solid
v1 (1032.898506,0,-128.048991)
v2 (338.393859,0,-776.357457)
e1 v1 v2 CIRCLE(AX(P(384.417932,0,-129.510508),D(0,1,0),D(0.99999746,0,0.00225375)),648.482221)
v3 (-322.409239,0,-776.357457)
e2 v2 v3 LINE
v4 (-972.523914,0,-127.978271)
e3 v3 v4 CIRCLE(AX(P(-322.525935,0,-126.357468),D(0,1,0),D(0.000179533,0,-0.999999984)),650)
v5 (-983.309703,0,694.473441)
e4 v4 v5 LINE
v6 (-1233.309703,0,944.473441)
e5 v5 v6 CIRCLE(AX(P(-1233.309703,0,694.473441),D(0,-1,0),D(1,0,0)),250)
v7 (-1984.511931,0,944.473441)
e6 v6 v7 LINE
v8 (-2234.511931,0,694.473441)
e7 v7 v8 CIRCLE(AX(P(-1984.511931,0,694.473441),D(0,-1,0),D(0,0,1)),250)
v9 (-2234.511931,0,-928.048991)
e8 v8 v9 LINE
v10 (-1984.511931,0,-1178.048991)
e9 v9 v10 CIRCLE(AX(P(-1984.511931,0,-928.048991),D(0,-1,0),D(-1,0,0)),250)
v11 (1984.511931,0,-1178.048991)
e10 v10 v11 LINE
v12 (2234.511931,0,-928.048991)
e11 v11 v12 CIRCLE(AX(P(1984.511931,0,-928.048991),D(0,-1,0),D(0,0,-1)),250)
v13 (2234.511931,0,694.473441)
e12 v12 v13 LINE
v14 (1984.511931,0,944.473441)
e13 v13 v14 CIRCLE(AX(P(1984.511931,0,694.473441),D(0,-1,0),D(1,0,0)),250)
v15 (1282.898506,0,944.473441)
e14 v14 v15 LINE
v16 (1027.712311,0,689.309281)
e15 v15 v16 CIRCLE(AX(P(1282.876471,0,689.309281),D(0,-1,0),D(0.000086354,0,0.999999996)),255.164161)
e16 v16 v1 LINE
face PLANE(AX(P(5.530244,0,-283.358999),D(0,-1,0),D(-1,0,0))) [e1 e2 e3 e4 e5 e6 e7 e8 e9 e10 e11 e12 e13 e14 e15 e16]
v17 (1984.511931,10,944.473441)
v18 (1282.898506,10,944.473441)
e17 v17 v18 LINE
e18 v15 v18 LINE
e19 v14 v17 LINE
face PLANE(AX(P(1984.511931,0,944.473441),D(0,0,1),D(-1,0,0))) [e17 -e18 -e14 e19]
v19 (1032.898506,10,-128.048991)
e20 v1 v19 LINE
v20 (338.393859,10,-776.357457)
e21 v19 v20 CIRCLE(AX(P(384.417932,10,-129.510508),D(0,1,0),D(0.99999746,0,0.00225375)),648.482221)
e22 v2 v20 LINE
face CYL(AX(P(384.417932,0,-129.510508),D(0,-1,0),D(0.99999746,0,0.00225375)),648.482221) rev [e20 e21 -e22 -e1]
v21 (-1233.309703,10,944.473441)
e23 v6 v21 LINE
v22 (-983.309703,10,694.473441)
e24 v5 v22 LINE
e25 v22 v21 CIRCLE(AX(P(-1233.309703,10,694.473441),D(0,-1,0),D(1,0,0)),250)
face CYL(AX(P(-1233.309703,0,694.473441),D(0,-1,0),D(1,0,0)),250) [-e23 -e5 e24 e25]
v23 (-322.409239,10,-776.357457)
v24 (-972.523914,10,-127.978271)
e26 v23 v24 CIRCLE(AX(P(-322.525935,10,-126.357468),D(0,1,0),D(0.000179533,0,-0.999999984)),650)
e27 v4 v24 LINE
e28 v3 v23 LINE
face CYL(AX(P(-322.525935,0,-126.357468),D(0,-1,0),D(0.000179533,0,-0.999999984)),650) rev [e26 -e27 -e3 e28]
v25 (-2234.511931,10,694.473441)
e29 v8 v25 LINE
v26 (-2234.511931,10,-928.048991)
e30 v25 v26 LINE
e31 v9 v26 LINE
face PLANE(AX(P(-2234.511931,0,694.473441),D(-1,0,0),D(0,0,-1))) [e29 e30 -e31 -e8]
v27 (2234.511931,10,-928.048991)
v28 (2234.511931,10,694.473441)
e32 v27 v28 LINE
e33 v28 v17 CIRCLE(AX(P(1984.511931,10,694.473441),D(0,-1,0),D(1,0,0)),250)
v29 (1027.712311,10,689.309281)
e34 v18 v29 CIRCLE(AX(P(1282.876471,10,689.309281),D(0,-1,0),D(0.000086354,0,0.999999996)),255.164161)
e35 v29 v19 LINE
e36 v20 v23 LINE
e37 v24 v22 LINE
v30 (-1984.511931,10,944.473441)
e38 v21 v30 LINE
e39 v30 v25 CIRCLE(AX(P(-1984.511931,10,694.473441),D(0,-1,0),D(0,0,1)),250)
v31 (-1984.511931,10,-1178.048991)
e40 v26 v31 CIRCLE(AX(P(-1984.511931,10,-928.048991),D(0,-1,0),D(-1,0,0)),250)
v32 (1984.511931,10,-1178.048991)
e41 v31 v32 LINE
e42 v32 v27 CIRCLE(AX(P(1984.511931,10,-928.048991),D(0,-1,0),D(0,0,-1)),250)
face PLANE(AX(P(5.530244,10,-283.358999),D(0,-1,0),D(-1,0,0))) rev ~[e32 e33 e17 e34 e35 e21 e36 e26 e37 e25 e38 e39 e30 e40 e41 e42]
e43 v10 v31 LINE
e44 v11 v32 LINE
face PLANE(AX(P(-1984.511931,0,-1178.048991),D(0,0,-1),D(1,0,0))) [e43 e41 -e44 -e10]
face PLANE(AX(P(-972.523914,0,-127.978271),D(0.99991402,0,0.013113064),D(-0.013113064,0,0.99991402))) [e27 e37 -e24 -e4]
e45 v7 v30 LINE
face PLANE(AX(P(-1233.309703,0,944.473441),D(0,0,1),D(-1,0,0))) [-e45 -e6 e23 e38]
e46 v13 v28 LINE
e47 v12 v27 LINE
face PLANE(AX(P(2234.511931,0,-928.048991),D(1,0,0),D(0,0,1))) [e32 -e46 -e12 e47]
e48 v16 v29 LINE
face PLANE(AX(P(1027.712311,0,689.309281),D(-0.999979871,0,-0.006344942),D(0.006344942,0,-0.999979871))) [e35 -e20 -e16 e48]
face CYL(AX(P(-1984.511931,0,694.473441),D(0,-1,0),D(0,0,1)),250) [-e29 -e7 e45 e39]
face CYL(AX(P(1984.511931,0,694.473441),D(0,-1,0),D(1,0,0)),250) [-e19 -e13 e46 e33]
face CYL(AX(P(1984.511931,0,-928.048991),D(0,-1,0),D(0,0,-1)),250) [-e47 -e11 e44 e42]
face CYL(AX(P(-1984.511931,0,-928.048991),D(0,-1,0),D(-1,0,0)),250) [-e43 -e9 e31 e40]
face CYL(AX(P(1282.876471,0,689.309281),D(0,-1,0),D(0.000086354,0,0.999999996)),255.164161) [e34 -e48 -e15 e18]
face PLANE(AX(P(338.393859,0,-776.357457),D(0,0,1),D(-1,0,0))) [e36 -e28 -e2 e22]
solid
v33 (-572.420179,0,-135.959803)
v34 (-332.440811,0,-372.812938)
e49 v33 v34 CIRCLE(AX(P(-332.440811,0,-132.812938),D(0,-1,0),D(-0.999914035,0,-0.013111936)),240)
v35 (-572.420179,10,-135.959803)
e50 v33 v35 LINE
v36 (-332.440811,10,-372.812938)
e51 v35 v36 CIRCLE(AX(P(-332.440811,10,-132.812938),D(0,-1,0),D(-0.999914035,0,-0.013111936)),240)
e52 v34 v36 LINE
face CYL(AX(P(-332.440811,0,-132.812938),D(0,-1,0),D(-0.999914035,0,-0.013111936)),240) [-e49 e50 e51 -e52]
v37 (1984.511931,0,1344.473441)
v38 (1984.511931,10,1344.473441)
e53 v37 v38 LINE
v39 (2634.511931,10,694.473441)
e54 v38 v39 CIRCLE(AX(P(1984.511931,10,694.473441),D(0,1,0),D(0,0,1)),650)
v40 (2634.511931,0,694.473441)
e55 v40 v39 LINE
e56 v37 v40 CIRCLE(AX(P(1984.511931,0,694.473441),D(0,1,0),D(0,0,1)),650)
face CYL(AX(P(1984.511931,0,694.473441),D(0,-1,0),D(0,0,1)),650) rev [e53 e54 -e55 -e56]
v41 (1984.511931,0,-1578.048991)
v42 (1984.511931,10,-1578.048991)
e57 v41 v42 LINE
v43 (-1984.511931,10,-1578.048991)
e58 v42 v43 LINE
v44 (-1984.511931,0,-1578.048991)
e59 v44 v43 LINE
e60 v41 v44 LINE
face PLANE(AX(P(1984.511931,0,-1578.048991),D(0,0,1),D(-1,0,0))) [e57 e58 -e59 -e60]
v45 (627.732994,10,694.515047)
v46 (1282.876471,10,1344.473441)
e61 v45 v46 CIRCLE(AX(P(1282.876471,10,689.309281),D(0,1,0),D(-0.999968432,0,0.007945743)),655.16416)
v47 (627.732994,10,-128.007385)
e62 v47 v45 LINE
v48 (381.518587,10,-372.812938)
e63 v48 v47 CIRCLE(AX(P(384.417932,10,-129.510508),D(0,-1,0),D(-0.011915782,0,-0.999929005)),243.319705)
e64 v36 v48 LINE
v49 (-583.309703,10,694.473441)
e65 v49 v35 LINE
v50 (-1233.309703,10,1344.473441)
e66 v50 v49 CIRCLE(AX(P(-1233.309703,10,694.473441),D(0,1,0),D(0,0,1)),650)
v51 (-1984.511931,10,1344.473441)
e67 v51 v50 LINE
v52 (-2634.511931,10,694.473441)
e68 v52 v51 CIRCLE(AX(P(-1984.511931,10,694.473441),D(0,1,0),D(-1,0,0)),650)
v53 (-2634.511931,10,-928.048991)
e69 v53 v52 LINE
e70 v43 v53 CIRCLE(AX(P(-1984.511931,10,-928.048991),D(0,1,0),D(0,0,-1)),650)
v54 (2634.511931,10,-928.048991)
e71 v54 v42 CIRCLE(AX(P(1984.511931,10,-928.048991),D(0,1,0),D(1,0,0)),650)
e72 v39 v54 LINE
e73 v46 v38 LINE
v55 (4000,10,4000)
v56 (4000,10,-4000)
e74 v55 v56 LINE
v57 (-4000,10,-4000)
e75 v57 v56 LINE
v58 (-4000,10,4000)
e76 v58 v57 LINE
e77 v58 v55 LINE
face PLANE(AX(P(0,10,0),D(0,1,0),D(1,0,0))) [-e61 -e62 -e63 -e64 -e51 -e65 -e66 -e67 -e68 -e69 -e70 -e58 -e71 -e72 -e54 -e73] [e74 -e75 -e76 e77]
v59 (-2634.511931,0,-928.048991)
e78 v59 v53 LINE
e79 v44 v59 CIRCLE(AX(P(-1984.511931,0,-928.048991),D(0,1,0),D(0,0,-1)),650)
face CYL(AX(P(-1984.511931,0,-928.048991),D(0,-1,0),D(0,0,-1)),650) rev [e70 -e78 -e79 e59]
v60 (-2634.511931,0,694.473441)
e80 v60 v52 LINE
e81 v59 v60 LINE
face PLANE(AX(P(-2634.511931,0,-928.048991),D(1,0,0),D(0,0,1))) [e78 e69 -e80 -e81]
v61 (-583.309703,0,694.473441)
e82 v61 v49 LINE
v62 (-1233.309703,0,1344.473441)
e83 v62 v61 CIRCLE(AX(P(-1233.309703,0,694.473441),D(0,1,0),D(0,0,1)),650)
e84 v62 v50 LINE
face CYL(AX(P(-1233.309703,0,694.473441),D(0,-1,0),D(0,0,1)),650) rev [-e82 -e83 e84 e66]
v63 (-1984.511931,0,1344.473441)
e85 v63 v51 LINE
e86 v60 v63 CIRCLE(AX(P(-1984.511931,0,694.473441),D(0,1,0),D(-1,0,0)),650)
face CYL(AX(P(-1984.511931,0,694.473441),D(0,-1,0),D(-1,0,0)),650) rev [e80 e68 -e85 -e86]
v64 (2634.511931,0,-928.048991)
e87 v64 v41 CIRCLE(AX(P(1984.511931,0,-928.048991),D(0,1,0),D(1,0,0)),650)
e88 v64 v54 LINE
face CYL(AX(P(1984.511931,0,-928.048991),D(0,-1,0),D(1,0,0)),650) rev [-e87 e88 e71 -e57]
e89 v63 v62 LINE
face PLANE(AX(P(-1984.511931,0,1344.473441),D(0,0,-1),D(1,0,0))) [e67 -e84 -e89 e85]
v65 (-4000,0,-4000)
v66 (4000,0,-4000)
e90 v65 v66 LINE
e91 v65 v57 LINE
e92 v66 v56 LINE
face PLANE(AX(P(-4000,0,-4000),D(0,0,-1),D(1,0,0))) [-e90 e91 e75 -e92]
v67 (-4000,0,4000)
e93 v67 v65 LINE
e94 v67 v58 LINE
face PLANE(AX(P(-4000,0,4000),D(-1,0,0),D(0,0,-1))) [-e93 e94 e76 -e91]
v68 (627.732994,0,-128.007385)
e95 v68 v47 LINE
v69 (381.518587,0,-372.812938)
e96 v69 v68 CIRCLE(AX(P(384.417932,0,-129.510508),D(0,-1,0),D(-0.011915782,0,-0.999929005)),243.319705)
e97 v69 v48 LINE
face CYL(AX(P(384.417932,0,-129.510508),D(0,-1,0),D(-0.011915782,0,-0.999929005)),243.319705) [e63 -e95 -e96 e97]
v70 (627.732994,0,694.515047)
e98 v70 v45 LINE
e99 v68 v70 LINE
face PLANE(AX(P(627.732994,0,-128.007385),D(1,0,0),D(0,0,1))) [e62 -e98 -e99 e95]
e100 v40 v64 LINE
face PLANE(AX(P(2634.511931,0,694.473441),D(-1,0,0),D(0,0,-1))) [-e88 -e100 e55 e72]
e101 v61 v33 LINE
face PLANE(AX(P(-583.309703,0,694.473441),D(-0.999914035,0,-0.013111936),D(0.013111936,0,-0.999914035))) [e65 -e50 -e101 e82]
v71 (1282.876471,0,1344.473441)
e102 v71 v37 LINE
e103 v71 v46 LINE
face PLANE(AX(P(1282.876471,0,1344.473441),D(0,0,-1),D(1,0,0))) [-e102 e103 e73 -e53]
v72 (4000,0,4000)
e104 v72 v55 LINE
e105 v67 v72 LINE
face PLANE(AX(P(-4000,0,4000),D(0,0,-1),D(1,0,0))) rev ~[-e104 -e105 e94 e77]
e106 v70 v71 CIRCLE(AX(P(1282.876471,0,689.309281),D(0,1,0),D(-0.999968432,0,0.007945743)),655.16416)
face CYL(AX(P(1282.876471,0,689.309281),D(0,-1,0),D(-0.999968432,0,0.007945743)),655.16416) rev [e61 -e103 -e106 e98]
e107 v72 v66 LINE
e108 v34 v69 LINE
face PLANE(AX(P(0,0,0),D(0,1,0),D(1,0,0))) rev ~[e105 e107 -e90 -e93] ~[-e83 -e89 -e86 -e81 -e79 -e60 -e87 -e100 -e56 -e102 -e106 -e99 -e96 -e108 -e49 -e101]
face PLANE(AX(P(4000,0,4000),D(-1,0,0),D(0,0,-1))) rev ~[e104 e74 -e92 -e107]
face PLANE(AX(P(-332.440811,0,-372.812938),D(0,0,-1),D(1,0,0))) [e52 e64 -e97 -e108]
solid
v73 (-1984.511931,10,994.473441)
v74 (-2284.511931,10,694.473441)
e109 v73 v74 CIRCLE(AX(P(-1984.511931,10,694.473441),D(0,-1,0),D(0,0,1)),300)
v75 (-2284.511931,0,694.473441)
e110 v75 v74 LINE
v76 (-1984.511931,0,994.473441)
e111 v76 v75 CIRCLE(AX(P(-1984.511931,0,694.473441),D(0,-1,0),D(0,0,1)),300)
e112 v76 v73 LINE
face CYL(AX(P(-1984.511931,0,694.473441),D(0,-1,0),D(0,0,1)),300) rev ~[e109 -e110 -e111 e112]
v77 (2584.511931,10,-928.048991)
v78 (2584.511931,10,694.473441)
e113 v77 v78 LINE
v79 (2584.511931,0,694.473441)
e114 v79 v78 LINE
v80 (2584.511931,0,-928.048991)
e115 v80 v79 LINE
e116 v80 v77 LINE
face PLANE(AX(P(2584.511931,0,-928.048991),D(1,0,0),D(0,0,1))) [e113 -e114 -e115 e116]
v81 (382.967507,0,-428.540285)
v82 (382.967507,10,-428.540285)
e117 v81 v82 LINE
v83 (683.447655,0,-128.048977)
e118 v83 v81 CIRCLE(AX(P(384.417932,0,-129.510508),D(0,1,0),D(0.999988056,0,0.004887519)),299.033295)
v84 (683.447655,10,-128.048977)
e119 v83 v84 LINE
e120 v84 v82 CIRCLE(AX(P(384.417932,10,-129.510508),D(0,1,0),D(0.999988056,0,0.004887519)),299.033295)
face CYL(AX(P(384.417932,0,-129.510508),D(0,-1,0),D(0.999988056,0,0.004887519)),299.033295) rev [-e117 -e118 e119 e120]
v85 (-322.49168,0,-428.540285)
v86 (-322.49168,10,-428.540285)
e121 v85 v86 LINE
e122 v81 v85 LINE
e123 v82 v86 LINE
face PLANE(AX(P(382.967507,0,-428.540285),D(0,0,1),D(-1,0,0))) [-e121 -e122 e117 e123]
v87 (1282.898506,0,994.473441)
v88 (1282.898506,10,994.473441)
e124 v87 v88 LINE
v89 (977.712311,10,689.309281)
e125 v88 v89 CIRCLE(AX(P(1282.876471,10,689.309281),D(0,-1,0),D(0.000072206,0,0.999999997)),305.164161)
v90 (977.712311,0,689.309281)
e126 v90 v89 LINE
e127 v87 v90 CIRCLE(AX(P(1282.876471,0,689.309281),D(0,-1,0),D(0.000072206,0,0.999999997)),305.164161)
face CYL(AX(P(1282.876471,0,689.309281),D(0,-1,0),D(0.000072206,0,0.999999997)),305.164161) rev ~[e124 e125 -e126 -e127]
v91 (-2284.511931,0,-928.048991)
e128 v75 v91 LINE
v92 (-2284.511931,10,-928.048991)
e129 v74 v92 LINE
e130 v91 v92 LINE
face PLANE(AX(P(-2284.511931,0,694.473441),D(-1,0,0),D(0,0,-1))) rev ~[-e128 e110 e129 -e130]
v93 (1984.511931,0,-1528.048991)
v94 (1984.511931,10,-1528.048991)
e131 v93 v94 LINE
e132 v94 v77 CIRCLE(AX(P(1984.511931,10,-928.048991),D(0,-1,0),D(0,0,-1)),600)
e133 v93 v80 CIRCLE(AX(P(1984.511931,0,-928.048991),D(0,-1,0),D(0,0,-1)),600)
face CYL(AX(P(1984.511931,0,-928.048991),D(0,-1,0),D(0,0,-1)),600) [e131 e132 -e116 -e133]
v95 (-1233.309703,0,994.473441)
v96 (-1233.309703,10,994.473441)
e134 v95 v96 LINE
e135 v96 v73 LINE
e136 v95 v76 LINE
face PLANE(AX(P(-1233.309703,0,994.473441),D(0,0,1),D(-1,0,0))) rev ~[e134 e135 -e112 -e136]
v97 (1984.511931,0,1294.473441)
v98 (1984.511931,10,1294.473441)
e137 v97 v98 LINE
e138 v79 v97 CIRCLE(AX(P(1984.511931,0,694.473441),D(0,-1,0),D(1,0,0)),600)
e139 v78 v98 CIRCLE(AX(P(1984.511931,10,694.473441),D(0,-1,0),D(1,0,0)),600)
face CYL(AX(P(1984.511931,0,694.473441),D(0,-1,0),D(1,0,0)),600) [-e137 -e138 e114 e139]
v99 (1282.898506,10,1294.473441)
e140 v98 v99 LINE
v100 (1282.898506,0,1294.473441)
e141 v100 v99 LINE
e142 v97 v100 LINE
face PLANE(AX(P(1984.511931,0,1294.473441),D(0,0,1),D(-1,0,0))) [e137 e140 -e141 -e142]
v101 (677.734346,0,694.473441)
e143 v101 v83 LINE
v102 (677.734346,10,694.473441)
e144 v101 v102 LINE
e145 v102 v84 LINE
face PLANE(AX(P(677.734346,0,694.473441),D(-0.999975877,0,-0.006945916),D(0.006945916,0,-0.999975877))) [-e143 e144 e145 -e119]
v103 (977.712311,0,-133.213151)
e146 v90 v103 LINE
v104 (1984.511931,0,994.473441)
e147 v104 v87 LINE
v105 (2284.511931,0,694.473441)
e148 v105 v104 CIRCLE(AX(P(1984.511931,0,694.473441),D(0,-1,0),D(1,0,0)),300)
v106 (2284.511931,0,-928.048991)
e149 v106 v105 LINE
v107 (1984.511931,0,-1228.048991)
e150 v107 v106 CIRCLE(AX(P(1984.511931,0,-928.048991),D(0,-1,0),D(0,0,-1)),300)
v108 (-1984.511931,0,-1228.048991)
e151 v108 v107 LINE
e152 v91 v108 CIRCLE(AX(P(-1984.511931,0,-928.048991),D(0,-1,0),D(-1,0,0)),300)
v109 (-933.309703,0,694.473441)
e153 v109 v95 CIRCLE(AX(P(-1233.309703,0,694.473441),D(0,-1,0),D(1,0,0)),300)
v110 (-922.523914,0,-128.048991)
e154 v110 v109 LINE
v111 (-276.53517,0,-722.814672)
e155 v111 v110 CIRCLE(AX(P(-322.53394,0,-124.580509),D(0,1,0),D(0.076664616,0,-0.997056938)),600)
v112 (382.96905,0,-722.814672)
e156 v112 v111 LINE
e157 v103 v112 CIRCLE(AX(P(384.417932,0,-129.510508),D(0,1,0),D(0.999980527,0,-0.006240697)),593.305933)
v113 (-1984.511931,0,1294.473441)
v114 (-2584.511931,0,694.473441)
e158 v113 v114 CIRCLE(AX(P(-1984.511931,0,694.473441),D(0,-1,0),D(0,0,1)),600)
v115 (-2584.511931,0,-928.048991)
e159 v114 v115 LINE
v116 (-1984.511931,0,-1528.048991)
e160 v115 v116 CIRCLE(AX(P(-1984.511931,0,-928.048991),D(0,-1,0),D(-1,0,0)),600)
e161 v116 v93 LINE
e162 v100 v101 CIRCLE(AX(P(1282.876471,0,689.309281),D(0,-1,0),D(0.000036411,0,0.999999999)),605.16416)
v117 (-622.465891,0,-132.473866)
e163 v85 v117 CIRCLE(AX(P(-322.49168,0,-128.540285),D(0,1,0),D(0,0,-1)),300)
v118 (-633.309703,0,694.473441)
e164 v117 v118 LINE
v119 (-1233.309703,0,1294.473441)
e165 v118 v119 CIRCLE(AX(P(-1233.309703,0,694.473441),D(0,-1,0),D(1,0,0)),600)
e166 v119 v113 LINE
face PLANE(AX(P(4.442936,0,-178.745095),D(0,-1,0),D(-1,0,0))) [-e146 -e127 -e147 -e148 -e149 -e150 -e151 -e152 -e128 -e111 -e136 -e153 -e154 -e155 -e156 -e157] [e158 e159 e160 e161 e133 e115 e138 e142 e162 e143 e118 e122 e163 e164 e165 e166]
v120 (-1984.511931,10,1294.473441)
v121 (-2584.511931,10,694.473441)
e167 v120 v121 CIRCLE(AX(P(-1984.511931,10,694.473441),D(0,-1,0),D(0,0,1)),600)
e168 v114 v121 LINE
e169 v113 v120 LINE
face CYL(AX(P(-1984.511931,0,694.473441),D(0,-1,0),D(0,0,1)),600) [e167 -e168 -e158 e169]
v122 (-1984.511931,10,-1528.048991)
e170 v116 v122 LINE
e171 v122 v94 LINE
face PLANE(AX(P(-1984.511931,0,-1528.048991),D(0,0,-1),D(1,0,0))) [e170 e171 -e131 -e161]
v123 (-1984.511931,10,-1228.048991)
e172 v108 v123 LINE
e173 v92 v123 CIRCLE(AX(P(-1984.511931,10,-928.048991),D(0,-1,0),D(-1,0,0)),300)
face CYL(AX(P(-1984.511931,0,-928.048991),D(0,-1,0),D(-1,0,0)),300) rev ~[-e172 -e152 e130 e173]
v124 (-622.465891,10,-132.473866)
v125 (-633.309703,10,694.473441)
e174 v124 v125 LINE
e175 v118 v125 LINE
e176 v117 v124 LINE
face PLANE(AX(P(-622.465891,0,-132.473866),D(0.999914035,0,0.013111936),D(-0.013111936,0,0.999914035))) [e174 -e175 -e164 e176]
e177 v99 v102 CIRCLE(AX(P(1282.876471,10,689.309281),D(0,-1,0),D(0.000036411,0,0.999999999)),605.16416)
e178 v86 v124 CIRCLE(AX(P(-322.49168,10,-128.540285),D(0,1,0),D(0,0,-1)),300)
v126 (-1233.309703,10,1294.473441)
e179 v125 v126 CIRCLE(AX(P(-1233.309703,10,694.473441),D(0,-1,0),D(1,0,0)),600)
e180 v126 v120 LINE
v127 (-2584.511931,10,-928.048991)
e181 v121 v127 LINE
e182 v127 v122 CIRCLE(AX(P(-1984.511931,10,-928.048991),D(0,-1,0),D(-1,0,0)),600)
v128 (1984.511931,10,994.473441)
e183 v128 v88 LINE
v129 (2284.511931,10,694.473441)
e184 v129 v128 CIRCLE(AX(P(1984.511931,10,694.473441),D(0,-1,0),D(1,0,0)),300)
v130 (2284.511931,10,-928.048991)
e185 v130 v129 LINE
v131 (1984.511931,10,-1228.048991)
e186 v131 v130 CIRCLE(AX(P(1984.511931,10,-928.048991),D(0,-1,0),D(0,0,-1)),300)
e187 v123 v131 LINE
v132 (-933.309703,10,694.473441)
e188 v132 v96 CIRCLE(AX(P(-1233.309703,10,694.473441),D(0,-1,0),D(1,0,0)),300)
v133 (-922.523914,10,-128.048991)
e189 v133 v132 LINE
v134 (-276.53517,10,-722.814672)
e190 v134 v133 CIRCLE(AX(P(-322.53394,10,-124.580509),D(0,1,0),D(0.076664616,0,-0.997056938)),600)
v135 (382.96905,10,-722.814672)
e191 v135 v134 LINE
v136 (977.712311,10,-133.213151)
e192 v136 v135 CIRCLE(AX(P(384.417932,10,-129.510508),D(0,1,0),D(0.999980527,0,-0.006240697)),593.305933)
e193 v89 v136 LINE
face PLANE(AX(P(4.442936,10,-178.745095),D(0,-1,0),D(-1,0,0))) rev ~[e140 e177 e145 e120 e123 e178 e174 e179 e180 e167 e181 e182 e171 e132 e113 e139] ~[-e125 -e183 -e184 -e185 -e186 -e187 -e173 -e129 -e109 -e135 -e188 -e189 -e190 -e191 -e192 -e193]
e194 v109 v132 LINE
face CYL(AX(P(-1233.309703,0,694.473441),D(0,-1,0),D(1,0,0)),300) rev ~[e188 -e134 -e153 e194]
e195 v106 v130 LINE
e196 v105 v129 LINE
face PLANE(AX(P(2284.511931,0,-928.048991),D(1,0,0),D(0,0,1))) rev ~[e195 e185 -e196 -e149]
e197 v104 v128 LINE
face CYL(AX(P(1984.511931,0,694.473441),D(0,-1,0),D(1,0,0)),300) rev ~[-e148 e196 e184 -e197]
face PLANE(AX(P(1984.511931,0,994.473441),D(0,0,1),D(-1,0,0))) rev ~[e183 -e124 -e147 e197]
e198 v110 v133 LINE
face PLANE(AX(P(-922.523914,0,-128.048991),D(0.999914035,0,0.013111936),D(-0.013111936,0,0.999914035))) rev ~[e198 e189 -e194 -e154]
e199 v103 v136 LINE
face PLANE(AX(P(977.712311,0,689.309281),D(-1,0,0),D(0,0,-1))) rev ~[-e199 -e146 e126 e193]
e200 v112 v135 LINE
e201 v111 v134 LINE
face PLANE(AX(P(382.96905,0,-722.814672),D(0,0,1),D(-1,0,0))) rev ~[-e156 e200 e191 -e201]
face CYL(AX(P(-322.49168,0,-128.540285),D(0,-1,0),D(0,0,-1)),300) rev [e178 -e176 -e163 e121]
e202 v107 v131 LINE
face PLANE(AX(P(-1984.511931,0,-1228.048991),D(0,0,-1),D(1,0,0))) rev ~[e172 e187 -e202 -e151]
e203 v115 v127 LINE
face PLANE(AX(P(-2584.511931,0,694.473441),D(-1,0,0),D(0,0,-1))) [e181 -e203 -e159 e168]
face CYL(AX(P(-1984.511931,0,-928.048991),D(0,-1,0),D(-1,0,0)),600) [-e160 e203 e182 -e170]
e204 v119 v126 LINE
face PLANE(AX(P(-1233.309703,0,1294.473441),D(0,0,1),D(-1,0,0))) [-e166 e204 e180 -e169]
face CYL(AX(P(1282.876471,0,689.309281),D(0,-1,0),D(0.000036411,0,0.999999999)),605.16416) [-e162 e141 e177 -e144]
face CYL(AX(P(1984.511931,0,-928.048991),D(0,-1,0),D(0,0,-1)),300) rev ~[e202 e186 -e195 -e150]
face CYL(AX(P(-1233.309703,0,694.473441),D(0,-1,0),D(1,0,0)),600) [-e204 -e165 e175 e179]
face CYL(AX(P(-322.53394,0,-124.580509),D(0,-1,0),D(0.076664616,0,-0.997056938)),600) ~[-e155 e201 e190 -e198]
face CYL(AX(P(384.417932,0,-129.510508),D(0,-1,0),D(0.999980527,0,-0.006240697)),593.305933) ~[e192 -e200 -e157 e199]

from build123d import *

# Parameters (mm, degrees)
SKETCH1_W             = 8000
SKETCH1_H             = 8000
BOSS_EXTRUDE1_DEPTH   = 10
BOSS_EXTRUDE1_2_DEPTH = 10
BOSS_EXTRUDE1_3_DEPTH = 10


with BuildPart() as part:
    # Sketch1 → Boss-Extrude1 (new body)
    with BuildSketch(Plane(origin=(0, 0, 0), x_dir=(1, 0, 0), z_dir=(0, 1, 0))):
        Rectangle(SKETCH1_W, SKETCH1_H)
        with BuildLine():
            Line((-332.440811098, 372.812938413), (381.518586898, 372.812938413))
            ThreePointArc((381.518586898, 372.812938413), (555.976577605, 302.056472372), (627.732993812, 128.007385212))
            Line((627.732993812, 128.007385212), (627.732993812, -694.515046657))
            ThreePointArc((627.732993812, -694.515046657), (821.44963805, -1154.417175641), (1282.87647146, -1344.473440754))
            Line((1282.87647146, -1344.473440754), (1984.511930504, -1344.473440754))
            ThreePointArc((1984.511930504, -1344.473440754), (2444.131338275, -1154.092848525), (2634.511930504, -694.473440754))
            Line((2634.511930504, -694.473440754), (2634.511930504, 128.048991114))
            Line((2634.511930504, 128.048991114), (2634.511930504, 928.048991114))
            ThreePointArc((2634.511930504, 928.048991114), (2444.131338275, 1387.668398886), (1984.511930504, 1578.048991114))
            Line((1984.511930504, 1578.048991114), (-1984.511930504, 1578.048991114))
            ThreePointArc((-1984.511930504, 1578.048991114), (-2444.131338275, 1387.668398886), (-2634.511930504, 928.048991114))
            Line((-2634.511930504, 928.048991114), (-2634.511930504, 128.048991114))
            Line((-2634.511930504, 128.048991114), (-2634.511930504, -694.473440754))
            ThreePointArc((-2634.511930504, -694.473440754), (-2444.131338275, -1154.092848525), (-1984.511930504, -1344.473440754))
            Line((-1984.511930504, -1344.473440754), (-1233.309703409, -1344.473440754))
            ThreePointArc((-1233.309703409, -1344.473440754), (-773.690295638, -1154.092848525), (-583.309703409, -694.473440754))
            Line((-583.309703409, -694.473440754), (-572.420179467, 135.959803133))
            ThreePointArc((-572.420179467, 135.959803133), (-501.030182749, 303.62752727), (-332.440811098, 372.812938413))
        make_face(mode=Mode.SUBTRACT)
    extrude(amount=BOSS_EXTRUDE1_DEPTH)


with BuildPart() as body_2:
    # Sketch1 → Boss-Extrude1 2 (new body)
    with BuildSketch(Plane(origin=(0, 0, 0), x_dir=(1, 0, 0), z_dir=(0, 1, 0))):
        with BuildLine():
            ThreePointArc((-322.491680317, 428.540285438), (-533.22839488, 342.058521509), (-622.465890777, 132.473866338))
            Line((-622.465890777, 132.473866338), (-633.309703409, -694.473440754))
            ThreePointArc((-633.309703409, -694.473440754), (-809.045634697, -1118.737509466), (-1233.309703409, -1294.473440754))
            Line((-1233.309703409, -1294.473440754), (-1984.511930504, -1294.473440754))
            ThreePointArc((-1984.511930504, -1294.473440754), (-2408.775999216, -1118.737509466), (-2584.511930504, -694.473440754))
            Line((-2584.511930504, -694.473440754), (-2584.511930504, 128.048991114))
            Line((-2584.511930504, 128.048991114), (-2584.511930504, 928.048991114))
            ThreePointArc((-2584.511930504, 928.048991114), (-2408.775999216, 1352.313059826), (-1984.511930504, 1528.048991114))
            Line((-1984.511930504, 1528.048991114), (1984.511930504, 1528.048991114))
            ThreePointArc((1984.511930504, 1528.048991114), (2408.775999216, 1352.313059826), (2584.511930504, 928.048991114))
            Line((2584.511930504, 928.048991114), (2584.511930504, 128.048991114))
            Line((2584.511930504, 128.048991114), (2584.511930504, -694.473440754))
            ThreePointArc((2584.511930504, -694.473440754), (2408.775999216, -1118.737509466), (1984.511930504, -1294.473440754))
            Line((1984.511930504, -1294.473440754), (1282.898506005, -1294.473440754))
            ThreePointArc((1282.898506005, -1294.473440754), (856.798331797, -1119.054647069), (677.734345793, -694.473440991))
            Line((677.734345793, -694.473440991), (683.447655029, 128.048977101))
            ThreePointArc((683.447655029, 128.048977101), (595.870328955, 340.95505197), (382.967506906, 428.540285438))
            Line((382.967506906, 428.540285438), (-322.491680317, 428.540285438))
        make_face()
        with BuildLine():
            Line((-1984.511930504, 1228.048991114), (1984.511930504, 1228.048991114))
            ThreePointArc((1984.511930504, 1228.048991114), (2196.64396486, 1140.18102547), (2284.511930504, 928.048991114))
            Line((2284.511930504, 928.048991114), (2284.511930504, 128.048991114))
            Line((2284.511930504, 128.048991114), (2284.511930504, -694.473440754))
            ThreePointArc((2284.511930504, -694.473440754), (2196.64396486, -906.60547511), (1984.511930504, -994.473440754))
            Line((1984.511930504, -994.473440754), (1282.898506005, -994.473440754))
            ThreePointArc((1282.898506005, -994.473440754), (1067.100614733, -905.100718615), (977.712310853, -689.309281182))
            Line((977.712310853, -689.309281182), (977.712310853, 133.213150686))
            ThreePointArc((977.712310853, 133.213150686), (802.123284212, 550.858545051), (382.969049813, 722.814671712))
            Line((382.969049813, 722.814671712), (-276.535170431, 722.814671712))
            ThreePointArc((-276.535170431, 722.814671712), (-728.936594404, 565.983819508), (-922.523914451, 128.04899087))
            Line((-922.523914451, 128.04899087), (-933.309703409, -694.473440754))
            ThreePointArc((-933.309703409, -694.473440754), (-1021.177669053, -906.60547511), (-1233.309703409, -994.473440754))
            Line((-1233.309703409, -994.473440754), (-1984.511930504, -994.473440754))
            ThreePointArc((-1984.511930504, -994.473440754), (-2196.64396486, -906.60547511), (-2284.511930504, -694.473440754))
            Line((-2284.511930504, -694.473440754), (-2284.511930504, 128.048991114))
            Line((-2284.511930504, 128.048991114), (-2284.511930504, 928.048991114))
            ThreePointArc((-2284.511930504, 928.048991114), (-2196.64396486, 1140.18102547), (-1984.511930504, 1228.048991114))
        make_face(mode=Mode.SUBTRACT)
    extrude(amount=BOSS_EXTRUDE1_2_DEPTH)


with BuildPart() as body_3:
    # Sketch1 → Boss-Extrude1 3 (new body)
    with BuildSketch(Plane(origin=(0, 0, 0), x_dir=(1, 0, 0), z_dir=(0, 1, 0))):
        with BuildLine():
            ThreePointArc((1984.511930504, 1178.048991114), (2161.2886258, 1104.825686411), (2234.511930504, 928.048991114))
            Line((2234.511930504, 928.048991114), (2234.511930504, 128.048991114))
            Line((2234.511930504, 128.048991114), (2234.511930504, -694.473440754))
            ThreePointArc((2234.511930504, -694.473440754), (2161.2886258, -871.250136051), (1984.511930504, -944.473440754))
            Line((1984.511930504, -944.473440754), (1282.898506005, -944.473440754))
            ThreePointArc((1282.898506005, -944.473440754), (1102.455953711, -869.745379639), (1027.712310697, -689.309281184))
            Line((1027.712310697, -689.309281184), (1032.898506005, 128.048990878))
            ThreePointArc((1032.898506005, 128.048990878), (826.927169977, 603.551397866), (338.393858854, 776.357457486))
            Line((338.393858854, 776.357457486), (-322.409238813, 776.357457486))
            ThreePointArc((-322.409238813, 776.357457486), (-781.53063335, 586.590764344), (-972.523914451, 127.978270706))
            Line((-972.523914451, 127.978270706), (-983.309703409, -694.473440754))
            ThreePointArc((-983.309703409, -694.473440754), (-1056.533008112, -871.250136051), (-1233.309703409, -944.473440754))
            Line((-1233.309703409, -944.473440754), (-1984.511930504, -944.473440754))
            ThreePointArc((-1984.511930504, -944.473440754), (-2161.2886258, -871.250136051), (-2234.511930504, -694.473440754))
            Line((-2234.511930504, -694.473440754), (-2234.511930504, 128.048991114))
            Line((-2234.511930504, 128.048991114), (-2234.511930504, 928.048991114))
            ThreePointArc((-2234.511930504, 928.048991114), (-2161.2886258, 1104.825686411), (-1984.511930504, 1178.048991114))
            Line((-1984.511930504, 1178.048991114), (1984.511930504, 1178.048991114))
        make_face()
    extrude(amount=BOSS_EXTRUDE1_3_DEPTH)


solid = Compound([part.part, body_2.part, body_3.part])
